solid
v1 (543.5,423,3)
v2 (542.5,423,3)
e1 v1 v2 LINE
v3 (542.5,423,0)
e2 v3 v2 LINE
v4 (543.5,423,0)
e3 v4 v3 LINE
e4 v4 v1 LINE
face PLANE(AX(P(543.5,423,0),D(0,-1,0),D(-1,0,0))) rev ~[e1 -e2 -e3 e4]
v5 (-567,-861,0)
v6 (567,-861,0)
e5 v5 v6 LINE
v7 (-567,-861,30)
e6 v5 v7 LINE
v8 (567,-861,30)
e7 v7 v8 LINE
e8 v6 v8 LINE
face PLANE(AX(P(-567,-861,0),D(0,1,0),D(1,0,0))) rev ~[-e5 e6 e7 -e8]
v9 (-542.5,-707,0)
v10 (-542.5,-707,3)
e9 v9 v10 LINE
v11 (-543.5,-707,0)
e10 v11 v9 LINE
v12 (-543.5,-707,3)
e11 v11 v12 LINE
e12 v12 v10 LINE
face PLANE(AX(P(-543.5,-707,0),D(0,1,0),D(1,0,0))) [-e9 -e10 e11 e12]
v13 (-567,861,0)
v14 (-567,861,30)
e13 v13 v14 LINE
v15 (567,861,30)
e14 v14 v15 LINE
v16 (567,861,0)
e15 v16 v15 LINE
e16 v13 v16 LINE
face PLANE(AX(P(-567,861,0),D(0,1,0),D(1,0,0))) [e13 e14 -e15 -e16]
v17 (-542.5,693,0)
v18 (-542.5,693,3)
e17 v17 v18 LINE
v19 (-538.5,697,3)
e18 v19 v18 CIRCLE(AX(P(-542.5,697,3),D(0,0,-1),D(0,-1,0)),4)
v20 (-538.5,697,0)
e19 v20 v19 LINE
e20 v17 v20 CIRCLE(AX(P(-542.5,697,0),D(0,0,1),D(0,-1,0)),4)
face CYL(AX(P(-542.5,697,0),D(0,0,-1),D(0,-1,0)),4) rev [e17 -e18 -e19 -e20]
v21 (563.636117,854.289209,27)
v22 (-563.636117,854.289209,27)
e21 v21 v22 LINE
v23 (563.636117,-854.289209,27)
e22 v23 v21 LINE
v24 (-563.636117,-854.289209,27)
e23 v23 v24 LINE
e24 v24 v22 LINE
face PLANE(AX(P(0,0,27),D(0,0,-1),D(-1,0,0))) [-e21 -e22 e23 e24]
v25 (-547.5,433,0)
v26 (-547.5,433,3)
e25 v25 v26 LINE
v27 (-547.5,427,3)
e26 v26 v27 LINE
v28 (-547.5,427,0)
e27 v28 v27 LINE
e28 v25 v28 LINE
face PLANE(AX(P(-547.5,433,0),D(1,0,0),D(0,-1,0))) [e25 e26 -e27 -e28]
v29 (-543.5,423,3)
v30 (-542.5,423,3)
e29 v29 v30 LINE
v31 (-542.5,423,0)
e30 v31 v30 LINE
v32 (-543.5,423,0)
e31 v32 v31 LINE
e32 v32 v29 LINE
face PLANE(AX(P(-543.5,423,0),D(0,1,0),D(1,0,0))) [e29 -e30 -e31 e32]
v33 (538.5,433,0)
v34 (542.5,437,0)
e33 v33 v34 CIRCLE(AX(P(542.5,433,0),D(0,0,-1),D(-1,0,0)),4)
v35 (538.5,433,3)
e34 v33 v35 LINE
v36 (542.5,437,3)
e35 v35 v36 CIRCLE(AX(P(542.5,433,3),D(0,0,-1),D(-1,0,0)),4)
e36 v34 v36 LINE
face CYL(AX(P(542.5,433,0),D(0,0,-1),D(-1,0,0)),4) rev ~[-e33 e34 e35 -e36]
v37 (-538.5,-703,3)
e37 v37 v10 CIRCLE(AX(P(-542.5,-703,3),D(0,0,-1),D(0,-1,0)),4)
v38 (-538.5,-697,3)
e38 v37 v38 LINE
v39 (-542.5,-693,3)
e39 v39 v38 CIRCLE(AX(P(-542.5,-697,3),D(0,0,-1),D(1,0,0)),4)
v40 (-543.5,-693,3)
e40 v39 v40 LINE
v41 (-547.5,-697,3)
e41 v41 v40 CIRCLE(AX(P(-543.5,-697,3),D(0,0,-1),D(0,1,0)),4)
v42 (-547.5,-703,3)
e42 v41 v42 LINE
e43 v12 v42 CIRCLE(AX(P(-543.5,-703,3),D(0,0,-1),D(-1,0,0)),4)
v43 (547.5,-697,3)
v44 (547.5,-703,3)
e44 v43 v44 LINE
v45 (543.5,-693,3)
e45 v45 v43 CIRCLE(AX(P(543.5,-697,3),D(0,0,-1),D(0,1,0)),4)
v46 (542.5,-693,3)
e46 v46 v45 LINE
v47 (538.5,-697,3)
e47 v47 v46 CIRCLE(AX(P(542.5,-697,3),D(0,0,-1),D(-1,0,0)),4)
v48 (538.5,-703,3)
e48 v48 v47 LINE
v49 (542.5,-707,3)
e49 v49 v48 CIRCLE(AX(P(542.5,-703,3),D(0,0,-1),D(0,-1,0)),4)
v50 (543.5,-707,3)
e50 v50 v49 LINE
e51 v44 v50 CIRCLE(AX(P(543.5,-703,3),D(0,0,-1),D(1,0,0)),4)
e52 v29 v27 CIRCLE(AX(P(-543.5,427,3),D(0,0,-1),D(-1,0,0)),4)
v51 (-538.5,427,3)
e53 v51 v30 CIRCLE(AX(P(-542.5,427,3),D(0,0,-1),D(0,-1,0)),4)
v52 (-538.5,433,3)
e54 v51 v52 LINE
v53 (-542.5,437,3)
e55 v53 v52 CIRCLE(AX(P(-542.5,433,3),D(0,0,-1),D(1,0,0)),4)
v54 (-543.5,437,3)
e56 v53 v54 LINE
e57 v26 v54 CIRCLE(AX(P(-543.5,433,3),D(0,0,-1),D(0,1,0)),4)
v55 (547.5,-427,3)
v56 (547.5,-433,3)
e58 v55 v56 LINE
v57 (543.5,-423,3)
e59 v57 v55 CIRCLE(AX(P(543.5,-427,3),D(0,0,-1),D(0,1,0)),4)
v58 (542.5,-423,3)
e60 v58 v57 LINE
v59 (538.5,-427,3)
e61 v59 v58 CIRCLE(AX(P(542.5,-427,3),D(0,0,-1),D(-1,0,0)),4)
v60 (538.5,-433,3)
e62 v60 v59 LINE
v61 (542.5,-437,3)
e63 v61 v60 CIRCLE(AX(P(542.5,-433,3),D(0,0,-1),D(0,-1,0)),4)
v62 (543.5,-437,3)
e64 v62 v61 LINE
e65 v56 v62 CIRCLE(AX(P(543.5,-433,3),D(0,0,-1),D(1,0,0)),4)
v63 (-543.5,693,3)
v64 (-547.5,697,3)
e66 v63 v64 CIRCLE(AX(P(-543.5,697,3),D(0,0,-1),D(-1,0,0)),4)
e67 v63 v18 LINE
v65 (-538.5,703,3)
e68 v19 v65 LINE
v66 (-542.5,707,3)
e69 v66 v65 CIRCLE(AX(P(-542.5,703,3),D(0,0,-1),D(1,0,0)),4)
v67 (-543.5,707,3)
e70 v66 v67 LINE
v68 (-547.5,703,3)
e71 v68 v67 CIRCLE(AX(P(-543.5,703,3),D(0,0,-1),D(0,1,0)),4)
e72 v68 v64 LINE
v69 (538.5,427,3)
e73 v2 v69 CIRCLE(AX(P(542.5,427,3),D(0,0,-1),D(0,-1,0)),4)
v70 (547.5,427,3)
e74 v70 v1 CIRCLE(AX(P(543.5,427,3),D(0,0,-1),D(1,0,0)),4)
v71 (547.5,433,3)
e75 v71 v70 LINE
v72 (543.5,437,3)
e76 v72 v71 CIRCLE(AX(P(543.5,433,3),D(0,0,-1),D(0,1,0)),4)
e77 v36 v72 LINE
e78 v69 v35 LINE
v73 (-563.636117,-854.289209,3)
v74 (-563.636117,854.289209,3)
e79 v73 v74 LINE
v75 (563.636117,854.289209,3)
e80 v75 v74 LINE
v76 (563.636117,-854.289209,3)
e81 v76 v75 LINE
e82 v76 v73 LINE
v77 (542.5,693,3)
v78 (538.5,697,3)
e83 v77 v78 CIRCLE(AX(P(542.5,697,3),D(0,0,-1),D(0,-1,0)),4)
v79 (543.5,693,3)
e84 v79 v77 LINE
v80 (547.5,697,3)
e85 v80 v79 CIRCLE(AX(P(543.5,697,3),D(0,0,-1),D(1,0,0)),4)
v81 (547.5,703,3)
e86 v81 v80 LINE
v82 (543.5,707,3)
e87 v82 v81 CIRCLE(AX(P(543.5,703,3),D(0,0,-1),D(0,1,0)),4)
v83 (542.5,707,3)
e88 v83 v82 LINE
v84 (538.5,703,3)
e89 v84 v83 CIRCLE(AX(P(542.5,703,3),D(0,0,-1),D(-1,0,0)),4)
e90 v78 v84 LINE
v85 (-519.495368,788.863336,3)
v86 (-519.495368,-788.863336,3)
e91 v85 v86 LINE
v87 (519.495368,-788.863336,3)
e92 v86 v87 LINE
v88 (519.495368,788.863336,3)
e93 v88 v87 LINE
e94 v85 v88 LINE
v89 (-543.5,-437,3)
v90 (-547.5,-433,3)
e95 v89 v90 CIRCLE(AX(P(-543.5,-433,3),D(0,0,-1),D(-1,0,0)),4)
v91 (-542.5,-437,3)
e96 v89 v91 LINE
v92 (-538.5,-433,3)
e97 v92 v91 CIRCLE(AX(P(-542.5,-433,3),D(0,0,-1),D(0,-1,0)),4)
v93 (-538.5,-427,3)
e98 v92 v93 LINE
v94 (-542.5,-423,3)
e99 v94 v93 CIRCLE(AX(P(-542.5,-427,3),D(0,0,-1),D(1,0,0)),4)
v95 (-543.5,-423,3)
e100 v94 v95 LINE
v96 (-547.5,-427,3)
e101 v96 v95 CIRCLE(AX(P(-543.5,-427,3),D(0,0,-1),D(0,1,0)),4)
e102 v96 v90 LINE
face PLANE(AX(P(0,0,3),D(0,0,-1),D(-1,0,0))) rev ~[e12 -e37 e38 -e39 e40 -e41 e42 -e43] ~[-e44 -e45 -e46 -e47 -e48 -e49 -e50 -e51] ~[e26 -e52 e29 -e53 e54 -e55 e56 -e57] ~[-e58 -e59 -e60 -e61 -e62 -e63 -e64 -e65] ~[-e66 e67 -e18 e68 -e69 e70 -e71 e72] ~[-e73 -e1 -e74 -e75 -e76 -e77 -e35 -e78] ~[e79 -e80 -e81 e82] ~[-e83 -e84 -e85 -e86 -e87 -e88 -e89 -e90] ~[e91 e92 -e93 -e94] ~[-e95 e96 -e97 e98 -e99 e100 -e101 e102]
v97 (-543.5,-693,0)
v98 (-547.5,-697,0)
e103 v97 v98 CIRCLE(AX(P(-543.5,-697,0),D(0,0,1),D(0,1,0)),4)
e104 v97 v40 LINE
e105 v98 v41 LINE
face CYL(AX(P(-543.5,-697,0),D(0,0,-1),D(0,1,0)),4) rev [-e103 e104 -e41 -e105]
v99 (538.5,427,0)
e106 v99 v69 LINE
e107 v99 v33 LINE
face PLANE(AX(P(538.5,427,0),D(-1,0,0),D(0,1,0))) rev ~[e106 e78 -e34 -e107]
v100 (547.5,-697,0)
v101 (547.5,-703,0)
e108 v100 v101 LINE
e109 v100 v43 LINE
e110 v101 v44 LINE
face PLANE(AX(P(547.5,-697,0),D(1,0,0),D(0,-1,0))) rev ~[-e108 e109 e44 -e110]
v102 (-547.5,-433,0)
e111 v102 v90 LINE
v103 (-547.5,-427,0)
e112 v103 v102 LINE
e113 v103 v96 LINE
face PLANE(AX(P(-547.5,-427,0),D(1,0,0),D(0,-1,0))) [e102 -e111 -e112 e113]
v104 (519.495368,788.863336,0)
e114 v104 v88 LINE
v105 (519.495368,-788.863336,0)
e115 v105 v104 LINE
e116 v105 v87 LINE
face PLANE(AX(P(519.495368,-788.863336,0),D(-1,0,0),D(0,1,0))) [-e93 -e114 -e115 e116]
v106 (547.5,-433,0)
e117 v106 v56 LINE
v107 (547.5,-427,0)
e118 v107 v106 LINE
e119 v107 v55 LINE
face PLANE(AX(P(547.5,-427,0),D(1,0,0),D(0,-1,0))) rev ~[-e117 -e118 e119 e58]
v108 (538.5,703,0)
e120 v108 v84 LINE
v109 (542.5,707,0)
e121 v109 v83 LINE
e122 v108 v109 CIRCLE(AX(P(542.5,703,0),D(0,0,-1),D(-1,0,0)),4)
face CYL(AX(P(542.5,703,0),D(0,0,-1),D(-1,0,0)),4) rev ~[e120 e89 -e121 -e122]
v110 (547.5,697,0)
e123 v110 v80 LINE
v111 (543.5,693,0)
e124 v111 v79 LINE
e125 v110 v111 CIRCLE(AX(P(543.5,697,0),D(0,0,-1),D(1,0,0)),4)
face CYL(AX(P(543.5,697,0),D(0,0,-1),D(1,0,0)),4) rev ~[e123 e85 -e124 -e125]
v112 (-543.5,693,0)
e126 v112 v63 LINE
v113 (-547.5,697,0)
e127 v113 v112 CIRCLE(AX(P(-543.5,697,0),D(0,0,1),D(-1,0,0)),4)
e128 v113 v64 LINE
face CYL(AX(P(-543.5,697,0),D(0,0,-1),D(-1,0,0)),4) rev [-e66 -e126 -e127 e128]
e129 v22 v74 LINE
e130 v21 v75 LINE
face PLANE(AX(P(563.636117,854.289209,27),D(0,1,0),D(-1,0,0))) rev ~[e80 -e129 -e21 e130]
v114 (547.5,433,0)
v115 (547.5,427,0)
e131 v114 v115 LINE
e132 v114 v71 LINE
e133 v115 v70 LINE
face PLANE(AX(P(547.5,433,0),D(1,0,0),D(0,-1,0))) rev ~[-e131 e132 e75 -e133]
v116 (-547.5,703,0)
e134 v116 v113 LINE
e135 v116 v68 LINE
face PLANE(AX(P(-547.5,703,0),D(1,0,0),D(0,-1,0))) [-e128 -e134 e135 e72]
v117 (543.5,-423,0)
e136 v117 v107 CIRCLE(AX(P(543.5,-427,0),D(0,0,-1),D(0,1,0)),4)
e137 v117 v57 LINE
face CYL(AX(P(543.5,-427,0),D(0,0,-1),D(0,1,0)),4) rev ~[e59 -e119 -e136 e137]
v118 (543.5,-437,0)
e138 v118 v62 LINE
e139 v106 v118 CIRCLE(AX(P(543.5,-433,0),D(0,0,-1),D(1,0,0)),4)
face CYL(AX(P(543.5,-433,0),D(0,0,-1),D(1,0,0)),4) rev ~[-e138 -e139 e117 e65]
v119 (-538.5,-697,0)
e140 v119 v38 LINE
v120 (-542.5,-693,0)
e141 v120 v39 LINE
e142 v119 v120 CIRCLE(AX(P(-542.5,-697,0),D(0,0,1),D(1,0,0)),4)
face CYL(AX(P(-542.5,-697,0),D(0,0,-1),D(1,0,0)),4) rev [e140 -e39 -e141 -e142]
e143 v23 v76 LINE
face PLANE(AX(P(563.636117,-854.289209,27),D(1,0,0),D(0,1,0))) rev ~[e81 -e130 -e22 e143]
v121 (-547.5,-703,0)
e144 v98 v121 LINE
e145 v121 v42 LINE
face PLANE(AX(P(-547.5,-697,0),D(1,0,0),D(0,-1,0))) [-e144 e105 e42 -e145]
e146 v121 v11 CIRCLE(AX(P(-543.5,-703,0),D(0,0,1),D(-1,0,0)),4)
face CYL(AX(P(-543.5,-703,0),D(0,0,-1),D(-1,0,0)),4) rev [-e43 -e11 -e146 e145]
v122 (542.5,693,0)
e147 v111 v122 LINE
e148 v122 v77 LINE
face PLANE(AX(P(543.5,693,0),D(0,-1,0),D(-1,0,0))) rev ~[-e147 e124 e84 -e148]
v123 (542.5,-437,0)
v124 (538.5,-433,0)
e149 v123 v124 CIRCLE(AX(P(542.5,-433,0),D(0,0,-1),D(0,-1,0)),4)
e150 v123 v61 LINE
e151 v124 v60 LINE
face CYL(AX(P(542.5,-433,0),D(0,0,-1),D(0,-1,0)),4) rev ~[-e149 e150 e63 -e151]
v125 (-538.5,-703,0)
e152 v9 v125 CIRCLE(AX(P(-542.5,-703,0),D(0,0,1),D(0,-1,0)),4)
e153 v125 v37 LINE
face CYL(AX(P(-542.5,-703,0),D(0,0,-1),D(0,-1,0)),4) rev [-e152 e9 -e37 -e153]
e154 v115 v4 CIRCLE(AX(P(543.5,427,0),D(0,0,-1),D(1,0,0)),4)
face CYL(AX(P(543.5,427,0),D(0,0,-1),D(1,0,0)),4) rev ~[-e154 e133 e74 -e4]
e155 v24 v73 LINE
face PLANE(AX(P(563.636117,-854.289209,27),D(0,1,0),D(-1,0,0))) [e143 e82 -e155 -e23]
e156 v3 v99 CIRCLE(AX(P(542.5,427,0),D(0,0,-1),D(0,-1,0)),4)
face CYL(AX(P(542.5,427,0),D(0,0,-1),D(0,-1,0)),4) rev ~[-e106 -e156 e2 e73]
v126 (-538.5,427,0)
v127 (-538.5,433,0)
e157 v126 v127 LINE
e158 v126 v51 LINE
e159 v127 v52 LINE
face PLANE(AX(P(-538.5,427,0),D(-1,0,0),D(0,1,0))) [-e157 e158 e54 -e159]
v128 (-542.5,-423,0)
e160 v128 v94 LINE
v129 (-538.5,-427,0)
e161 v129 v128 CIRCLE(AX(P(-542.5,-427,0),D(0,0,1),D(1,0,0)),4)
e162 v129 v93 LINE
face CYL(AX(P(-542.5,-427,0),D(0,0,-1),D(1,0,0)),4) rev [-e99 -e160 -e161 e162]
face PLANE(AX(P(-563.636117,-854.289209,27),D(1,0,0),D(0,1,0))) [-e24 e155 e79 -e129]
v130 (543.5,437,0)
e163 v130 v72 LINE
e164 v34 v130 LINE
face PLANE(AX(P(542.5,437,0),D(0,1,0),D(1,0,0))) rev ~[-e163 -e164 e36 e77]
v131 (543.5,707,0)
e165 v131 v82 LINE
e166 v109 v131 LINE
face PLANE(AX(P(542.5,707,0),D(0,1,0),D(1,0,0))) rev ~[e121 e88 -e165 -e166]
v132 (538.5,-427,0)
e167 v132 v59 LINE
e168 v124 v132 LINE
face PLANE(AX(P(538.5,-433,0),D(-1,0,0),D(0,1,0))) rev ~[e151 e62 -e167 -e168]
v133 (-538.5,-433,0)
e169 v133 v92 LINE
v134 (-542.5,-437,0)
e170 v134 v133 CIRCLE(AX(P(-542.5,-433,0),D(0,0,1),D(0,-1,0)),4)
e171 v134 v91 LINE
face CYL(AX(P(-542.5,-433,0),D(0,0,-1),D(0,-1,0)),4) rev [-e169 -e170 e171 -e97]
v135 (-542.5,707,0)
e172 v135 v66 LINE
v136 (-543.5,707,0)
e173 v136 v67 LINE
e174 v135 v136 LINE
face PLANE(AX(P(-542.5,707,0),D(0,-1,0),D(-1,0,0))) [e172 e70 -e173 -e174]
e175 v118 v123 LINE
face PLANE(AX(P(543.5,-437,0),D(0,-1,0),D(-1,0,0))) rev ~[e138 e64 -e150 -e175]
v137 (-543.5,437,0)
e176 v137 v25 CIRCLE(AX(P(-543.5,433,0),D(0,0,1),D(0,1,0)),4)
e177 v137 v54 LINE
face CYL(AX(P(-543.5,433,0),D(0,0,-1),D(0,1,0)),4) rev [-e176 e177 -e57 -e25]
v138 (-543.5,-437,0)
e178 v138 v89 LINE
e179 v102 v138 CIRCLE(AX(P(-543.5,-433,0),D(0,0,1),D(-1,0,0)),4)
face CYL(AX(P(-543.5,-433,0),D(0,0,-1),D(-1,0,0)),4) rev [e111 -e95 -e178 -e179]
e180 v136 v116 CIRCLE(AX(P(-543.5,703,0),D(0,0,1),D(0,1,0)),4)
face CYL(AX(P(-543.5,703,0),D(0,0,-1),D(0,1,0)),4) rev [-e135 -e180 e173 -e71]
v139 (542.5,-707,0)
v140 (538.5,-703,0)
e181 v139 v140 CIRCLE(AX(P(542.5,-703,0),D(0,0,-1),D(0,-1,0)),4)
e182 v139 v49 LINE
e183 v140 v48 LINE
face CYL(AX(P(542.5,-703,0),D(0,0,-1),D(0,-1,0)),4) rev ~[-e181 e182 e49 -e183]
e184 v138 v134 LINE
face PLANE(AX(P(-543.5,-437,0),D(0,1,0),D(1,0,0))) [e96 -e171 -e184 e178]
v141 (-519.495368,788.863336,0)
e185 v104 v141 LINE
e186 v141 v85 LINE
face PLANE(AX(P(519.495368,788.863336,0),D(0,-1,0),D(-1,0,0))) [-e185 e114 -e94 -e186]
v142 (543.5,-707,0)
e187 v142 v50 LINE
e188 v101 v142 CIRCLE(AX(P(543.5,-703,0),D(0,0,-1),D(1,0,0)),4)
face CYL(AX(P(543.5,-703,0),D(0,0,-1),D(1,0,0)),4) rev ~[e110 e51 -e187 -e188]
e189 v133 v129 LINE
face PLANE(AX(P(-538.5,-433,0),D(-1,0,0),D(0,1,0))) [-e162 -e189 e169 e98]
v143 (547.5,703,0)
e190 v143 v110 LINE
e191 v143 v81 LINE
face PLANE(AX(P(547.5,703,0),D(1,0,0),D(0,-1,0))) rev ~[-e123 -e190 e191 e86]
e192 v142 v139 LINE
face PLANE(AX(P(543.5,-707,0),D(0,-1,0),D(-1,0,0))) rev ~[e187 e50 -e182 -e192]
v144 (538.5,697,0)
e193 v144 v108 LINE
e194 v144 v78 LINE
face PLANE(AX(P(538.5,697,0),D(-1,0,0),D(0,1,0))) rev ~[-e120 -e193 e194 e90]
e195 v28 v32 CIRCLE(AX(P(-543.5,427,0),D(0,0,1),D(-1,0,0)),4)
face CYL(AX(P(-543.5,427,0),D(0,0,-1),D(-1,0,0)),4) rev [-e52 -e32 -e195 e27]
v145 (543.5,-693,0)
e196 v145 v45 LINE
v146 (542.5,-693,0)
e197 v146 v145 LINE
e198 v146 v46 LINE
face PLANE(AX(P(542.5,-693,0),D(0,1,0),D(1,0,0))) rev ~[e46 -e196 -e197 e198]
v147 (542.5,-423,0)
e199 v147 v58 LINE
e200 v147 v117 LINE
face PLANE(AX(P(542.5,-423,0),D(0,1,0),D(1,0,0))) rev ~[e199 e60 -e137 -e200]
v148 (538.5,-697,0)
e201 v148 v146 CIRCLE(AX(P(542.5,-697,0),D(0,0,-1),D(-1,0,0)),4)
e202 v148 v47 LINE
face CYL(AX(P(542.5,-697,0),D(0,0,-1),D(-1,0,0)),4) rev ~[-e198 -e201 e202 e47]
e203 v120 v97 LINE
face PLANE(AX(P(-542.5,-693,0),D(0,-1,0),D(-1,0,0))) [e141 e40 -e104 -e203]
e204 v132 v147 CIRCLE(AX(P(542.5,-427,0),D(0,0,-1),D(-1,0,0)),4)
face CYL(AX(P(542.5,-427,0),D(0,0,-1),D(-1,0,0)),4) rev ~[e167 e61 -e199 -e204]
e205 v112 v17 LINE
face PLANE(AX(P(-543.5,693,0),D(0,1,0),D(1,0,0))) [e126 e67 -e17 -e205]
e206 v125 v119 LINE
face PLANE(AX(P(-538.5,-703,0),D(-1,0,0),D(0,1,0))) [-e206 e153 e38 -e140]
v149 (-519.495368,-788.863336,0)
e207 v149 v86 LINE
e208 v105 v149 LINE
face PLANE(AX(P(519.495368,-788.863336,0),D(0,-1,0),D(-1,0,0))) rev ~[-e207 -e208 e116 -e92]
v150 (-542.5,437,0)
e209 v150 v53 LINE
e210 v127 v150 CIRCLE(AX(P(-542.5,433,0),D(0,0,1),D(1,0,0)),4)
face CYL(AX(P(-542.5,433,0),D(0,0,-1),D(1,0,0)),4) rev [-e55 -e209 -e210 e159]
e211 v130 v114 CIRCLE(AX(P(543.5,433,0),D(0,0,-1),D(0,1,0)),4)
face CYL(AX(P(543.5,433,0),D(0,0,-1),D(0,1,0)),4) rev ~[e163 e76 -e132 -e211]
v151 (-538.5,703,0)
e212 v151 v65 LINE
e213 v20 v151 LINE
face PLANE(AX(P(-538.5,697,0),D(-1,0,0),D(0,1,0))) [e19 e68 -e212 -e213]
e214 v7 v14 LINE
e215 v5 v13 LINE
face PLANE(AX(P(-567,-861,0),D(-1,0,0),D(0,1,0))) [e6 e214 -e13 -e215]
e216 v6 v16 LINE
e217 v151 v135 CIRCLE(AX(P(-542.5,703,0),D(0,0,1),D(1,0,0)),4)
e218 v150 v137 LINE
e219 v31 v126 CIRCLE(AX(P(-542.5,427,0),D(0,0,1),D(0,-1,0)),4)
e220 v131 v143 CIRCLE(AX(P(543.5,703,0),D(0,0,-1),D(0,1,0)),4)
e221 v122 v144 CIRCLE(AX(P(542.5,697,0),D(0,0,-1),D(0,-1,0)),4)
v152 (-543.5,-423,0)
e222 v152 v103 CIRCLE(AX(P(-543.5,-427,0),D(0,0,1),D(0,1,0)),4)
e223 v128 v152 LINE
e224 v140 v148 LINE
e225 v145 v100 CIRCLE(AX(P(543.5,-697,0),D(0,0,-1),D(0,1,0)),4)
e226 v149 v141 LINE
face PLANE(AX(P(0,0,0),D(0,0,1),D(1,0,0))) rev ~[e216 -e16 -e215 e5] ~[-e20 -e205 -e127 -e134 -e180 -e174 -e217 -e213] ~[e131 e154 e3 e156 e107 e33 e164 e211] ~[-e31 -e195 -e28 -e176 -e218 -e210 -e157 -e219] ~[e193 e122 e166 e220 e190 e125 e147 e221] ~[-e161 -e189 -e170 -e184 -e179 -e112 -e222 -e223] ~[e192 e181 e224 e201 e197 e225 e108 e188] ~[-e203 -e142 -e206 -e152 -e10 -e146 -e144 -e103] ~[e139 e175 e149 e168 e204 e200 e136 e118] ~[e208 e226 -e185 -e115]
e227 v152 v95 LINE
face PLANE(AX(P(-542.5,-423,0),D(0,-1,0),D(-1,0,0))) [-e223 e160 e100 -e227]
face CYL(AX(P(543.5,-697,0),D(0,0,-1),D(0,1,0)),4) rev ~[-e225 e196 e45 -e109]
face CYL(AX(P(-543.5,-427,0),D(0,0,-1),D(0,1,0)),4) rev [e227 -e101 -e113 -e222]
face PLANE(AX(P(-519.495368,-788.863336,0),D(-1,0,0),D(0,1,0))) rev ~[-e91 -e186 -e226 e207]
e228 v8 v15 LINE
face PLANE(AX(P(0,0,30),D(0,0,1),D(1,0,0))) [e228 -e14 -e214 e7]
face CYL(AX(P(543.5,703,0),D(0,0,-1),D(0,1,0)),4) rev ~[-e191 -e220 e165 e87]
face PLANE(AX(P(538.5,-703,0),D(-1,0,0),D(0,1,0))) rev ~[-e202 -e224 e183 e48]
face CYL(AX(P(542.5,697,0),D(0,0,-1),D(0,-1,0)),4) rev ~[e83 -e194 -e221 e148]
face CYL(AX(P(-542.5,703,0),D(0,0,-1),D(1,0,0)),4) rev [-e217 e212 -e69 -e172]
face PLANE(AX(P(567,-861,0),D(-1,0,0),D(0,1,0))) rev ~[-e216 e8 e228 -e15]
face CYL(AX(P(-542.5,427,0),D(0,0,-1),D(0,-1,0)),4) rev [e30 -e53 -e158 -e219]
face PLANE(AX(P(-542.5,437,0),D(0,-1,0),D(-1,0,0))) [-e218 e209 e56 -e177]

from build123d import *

# Parameters (mm, degrees)
ESQUISSE1_W             = 1134
ESQUISSE1_H             = 1722
BOSS_EXTRU_1_DEPTH      = 30
ESQUISSE6_W             = 1038.990735542
ESQUISSE6_H             = 1577.726672488
ENL_V_MAT_EXTRU_1_DEPTH = 27
ESQUISSE7_W             = 1127.272234852
ESQUISSE7_H             = 1708.57841833
ENL_V_MAT_EXTRU_2_DEPTH = 24
ENL_V_MAT_EXTRU_3_DEPTH = 10


with BuildPart() as part:
    # Esquisse1 → Boss.-Extru.1 (new body)
    with BuildSketch(Plane.XY):
        Rectangle(ESQUISSE1_W, ESQUISSE1_H)
    extrude(amount=BOSS_EXTRU_1_DEPTH)

    # Esquisse6 → Enlèv. mat.-Extru.1 (cut)
    with BuildSketch(Plane(origin=(0, 0, 0), x_dir=(-1, 0, 0), z_dir=(0, 0, -1))):
        Rectangle(ESQUISSE6_W, ESQUISSE6_H)
    extrude(amount=-ENL_V_MAT_EXTRU_1_DEPTH, mode=Mode.SUBTRACT)

    # Esquisse7 → Enlèv. mat.-Extru.2 (cut)
    with BuildSketch(Plane(origin=(0, 0, 27), x_dir=(-1, 0, 0), z_dir=(0, 0, -1))):
        Rectangle(ESQUISSE7_W, ESQUISSE7_H)
    extrude(amount=ENL_V_MAT_EXTRU_2_DEPTH, mode=Mode.SUBTRACT)

    # trous fixation → Enlèv. mat.-Extru.3 (cut)
    with BuildSketch(Plane(origin=(0, 0, 0), x_dir=(-1, 0, 0), z_dir=(0, 0, -1))):
        with BuildLine():
            Line((-543.5, 693), (-542.5, 693))
            ThreePointArc((-542.5, 693), (-539.671572875, 694.171572875), (-538.5, 697))
            Line((-538.5, 697), (-538.5, 703))
            ThreePointArc((-538.5, 703), (-539.671572875, 705.828427125), (-542.5, 707))
            Line((-542.5, 707), (-543.5, 707))
            ThreePointArc((-543.5, 707), (-546.328427125, 705.828427125), (-547.5, 703))
            Line((-547.5, 703), (-547.5, 697))
            ThreePointArc((-547.5, 697), (-546.328427125, 694.171572875), (-543.5, 693))
        make_face()
        with BuildLine():
            Line((-543.5, 423), (-542.5, 423))
            ThreePointArc((-542.5, 423), (-539.671572875, 424.171572875), (-538.5, 427))
            Line((-538.5, 427), (-538.5, 433))
            ThreePointArc((-538.5, 433), (-539.671572875, 435.828427125), (-542.5, 437))
            Line((-542.5, 437), (-543.5, 437))
            ThreePointArc((-543.5, 437), (-546.328427125, 435.828427125), (-547.5, 433))
            Line((-547.5, 433), (-547.5, 427))
            ThreePointArc((-547.5, 427), (-546.328427125, 424.171572875), (-543.5, 423))
        make_face()
        with BuildLine():
            Line((-543.5, -437), (-542.5, -437))
            ThreePointArc((-542.5, -437), (-539.671572875, -435.828427125), (-538.5, -433))
            Line((-538.5, -433), (-538.5, -427))
            ThreePointArc((-538.5, -427), (-539.671572875, -424.171572875), (-542.5, -423))
            Line((-542.5, -423), (-543.5, -423))
            ThreePointArc((-543.5, -423), (-546.328427125, -424.171572875), (-547.5, -427))
            Line((-547.5, -427), (-547.5, -433))
            ThreePointArc((-547.5, -433), (-546.328427125, -435.828427125), (-543.5, -437))
        make_face()
        with BuildLine():
            Line((-543.5, -707), (-542.5, -707))
            ThreePointArc((-542.5, -707), (-539.671572875, -705.828427125), (-538.5, -703))
            Line((-538.5, -703), (-538.5, -697))
            ThreePointArc((-538.5, -697), (-539.671572875, -694.171572875), (-542.5, -693))
            Line((-542.5, -693), (-543.5, -693))
            ThreePointArc((-543.5, -693), (-546.328427125, -694.171572875), (-547.5, -697))
            Line((-547.5, -697), (-547.5, -703))
            ThreePointArc((-547.5, -703), (-546.328427125, -705.828427125), (-543.5, -707))
        make_face()
        with BuildLine():
            Line((538.5, -703), (538.5, -697))
            ThreePointArc((538.5, -697), (539.671572875, -694.171572875), (542.5, -693))
            Line((542.5, -693), (543.5, -693))
            ThreePointArc((543.5, -693), (546.328427125, -694.171572875), (547.5, -697))
            Line((547.5, -697), (547.5, -703))
            ThreePointArc((547.5, -703), (546.328427125, -705.828427125), (543.5, -707))
            Line((543.5, -707), (542.5, -707))
            ThreePointArc((542.5, -707), (539.671572875, -705.828427125), (538.5, -703))
        make_face()
        with BuildLine():
            Line((538.5, -433), (538.5, -427))
            ThreePointArc((538.5, -427), (539.671572875, -424.171572875), (542.5, -423))
            Line((542.5, -423), (543.5, -423))
            ThreePointArc((543.5, -423), (546.328427125, -424.171572875), (547.5, -427))
            Line((547.5, -427), (547.5, -433))
            ThreePointArc((547.5, -433), (546.328427125, -435.828427125), (543.5, -437))
            Line((543.5, -437), (542.5, -437))
            ThreePointArc((542.5, -437), (539.671572875, -435.828427125), (538.5, -433))
        make_face()
        with BuildLine():
            Line((538.5, 427), (538.5, 433))
            ThreePointArc((538.5, 433), (539.671572875, 435.828427125), (542.5, 437))
            Line((542.5, 437), (543.5, 437))
            ThreePointArc((543.5, 437), (546.328427125, 435.828427125), (547.5, 433))
            Line((547.5, 433), (547.5, 427))
            ThreePointArc((547.5, 427), (546.328427125, 424.171572875), (543.5, 423))
            Line((543.5, 423), (542.5, 423))
            ThreePointArc((542.5, 423), (539.671572875, 424.171572875), (538.5, 427))
        make_face()
        with BuildLine():
            Line((538.5, 697), (538.5, 703))
            ThreePointArc((538.5, 703), (539.671572875, 705.828427125), (542.5, 707))
            Line((542.5, 707), (543.5, 707))
            ThreePointArc((543.5, 707), (546.328427125, 705.828427125), (547.5, 703))
            Line((547.5, 703), (547.5, 697))
            ThreePointArc((547.5, 697), (546.328427125, 694.171572875), (543.5, 693))
            Line((543.5, 693), (542.5, 693))
            ThreePointArc((542.5, 693), (539.671572875, 694.171572875), (538.5, 697))
        make_face()
    extrude(amount=-ENL_V_MAT_EXTRU_3_DEPTH, mode=Mode.SUBTRACT)


solid = part.part
